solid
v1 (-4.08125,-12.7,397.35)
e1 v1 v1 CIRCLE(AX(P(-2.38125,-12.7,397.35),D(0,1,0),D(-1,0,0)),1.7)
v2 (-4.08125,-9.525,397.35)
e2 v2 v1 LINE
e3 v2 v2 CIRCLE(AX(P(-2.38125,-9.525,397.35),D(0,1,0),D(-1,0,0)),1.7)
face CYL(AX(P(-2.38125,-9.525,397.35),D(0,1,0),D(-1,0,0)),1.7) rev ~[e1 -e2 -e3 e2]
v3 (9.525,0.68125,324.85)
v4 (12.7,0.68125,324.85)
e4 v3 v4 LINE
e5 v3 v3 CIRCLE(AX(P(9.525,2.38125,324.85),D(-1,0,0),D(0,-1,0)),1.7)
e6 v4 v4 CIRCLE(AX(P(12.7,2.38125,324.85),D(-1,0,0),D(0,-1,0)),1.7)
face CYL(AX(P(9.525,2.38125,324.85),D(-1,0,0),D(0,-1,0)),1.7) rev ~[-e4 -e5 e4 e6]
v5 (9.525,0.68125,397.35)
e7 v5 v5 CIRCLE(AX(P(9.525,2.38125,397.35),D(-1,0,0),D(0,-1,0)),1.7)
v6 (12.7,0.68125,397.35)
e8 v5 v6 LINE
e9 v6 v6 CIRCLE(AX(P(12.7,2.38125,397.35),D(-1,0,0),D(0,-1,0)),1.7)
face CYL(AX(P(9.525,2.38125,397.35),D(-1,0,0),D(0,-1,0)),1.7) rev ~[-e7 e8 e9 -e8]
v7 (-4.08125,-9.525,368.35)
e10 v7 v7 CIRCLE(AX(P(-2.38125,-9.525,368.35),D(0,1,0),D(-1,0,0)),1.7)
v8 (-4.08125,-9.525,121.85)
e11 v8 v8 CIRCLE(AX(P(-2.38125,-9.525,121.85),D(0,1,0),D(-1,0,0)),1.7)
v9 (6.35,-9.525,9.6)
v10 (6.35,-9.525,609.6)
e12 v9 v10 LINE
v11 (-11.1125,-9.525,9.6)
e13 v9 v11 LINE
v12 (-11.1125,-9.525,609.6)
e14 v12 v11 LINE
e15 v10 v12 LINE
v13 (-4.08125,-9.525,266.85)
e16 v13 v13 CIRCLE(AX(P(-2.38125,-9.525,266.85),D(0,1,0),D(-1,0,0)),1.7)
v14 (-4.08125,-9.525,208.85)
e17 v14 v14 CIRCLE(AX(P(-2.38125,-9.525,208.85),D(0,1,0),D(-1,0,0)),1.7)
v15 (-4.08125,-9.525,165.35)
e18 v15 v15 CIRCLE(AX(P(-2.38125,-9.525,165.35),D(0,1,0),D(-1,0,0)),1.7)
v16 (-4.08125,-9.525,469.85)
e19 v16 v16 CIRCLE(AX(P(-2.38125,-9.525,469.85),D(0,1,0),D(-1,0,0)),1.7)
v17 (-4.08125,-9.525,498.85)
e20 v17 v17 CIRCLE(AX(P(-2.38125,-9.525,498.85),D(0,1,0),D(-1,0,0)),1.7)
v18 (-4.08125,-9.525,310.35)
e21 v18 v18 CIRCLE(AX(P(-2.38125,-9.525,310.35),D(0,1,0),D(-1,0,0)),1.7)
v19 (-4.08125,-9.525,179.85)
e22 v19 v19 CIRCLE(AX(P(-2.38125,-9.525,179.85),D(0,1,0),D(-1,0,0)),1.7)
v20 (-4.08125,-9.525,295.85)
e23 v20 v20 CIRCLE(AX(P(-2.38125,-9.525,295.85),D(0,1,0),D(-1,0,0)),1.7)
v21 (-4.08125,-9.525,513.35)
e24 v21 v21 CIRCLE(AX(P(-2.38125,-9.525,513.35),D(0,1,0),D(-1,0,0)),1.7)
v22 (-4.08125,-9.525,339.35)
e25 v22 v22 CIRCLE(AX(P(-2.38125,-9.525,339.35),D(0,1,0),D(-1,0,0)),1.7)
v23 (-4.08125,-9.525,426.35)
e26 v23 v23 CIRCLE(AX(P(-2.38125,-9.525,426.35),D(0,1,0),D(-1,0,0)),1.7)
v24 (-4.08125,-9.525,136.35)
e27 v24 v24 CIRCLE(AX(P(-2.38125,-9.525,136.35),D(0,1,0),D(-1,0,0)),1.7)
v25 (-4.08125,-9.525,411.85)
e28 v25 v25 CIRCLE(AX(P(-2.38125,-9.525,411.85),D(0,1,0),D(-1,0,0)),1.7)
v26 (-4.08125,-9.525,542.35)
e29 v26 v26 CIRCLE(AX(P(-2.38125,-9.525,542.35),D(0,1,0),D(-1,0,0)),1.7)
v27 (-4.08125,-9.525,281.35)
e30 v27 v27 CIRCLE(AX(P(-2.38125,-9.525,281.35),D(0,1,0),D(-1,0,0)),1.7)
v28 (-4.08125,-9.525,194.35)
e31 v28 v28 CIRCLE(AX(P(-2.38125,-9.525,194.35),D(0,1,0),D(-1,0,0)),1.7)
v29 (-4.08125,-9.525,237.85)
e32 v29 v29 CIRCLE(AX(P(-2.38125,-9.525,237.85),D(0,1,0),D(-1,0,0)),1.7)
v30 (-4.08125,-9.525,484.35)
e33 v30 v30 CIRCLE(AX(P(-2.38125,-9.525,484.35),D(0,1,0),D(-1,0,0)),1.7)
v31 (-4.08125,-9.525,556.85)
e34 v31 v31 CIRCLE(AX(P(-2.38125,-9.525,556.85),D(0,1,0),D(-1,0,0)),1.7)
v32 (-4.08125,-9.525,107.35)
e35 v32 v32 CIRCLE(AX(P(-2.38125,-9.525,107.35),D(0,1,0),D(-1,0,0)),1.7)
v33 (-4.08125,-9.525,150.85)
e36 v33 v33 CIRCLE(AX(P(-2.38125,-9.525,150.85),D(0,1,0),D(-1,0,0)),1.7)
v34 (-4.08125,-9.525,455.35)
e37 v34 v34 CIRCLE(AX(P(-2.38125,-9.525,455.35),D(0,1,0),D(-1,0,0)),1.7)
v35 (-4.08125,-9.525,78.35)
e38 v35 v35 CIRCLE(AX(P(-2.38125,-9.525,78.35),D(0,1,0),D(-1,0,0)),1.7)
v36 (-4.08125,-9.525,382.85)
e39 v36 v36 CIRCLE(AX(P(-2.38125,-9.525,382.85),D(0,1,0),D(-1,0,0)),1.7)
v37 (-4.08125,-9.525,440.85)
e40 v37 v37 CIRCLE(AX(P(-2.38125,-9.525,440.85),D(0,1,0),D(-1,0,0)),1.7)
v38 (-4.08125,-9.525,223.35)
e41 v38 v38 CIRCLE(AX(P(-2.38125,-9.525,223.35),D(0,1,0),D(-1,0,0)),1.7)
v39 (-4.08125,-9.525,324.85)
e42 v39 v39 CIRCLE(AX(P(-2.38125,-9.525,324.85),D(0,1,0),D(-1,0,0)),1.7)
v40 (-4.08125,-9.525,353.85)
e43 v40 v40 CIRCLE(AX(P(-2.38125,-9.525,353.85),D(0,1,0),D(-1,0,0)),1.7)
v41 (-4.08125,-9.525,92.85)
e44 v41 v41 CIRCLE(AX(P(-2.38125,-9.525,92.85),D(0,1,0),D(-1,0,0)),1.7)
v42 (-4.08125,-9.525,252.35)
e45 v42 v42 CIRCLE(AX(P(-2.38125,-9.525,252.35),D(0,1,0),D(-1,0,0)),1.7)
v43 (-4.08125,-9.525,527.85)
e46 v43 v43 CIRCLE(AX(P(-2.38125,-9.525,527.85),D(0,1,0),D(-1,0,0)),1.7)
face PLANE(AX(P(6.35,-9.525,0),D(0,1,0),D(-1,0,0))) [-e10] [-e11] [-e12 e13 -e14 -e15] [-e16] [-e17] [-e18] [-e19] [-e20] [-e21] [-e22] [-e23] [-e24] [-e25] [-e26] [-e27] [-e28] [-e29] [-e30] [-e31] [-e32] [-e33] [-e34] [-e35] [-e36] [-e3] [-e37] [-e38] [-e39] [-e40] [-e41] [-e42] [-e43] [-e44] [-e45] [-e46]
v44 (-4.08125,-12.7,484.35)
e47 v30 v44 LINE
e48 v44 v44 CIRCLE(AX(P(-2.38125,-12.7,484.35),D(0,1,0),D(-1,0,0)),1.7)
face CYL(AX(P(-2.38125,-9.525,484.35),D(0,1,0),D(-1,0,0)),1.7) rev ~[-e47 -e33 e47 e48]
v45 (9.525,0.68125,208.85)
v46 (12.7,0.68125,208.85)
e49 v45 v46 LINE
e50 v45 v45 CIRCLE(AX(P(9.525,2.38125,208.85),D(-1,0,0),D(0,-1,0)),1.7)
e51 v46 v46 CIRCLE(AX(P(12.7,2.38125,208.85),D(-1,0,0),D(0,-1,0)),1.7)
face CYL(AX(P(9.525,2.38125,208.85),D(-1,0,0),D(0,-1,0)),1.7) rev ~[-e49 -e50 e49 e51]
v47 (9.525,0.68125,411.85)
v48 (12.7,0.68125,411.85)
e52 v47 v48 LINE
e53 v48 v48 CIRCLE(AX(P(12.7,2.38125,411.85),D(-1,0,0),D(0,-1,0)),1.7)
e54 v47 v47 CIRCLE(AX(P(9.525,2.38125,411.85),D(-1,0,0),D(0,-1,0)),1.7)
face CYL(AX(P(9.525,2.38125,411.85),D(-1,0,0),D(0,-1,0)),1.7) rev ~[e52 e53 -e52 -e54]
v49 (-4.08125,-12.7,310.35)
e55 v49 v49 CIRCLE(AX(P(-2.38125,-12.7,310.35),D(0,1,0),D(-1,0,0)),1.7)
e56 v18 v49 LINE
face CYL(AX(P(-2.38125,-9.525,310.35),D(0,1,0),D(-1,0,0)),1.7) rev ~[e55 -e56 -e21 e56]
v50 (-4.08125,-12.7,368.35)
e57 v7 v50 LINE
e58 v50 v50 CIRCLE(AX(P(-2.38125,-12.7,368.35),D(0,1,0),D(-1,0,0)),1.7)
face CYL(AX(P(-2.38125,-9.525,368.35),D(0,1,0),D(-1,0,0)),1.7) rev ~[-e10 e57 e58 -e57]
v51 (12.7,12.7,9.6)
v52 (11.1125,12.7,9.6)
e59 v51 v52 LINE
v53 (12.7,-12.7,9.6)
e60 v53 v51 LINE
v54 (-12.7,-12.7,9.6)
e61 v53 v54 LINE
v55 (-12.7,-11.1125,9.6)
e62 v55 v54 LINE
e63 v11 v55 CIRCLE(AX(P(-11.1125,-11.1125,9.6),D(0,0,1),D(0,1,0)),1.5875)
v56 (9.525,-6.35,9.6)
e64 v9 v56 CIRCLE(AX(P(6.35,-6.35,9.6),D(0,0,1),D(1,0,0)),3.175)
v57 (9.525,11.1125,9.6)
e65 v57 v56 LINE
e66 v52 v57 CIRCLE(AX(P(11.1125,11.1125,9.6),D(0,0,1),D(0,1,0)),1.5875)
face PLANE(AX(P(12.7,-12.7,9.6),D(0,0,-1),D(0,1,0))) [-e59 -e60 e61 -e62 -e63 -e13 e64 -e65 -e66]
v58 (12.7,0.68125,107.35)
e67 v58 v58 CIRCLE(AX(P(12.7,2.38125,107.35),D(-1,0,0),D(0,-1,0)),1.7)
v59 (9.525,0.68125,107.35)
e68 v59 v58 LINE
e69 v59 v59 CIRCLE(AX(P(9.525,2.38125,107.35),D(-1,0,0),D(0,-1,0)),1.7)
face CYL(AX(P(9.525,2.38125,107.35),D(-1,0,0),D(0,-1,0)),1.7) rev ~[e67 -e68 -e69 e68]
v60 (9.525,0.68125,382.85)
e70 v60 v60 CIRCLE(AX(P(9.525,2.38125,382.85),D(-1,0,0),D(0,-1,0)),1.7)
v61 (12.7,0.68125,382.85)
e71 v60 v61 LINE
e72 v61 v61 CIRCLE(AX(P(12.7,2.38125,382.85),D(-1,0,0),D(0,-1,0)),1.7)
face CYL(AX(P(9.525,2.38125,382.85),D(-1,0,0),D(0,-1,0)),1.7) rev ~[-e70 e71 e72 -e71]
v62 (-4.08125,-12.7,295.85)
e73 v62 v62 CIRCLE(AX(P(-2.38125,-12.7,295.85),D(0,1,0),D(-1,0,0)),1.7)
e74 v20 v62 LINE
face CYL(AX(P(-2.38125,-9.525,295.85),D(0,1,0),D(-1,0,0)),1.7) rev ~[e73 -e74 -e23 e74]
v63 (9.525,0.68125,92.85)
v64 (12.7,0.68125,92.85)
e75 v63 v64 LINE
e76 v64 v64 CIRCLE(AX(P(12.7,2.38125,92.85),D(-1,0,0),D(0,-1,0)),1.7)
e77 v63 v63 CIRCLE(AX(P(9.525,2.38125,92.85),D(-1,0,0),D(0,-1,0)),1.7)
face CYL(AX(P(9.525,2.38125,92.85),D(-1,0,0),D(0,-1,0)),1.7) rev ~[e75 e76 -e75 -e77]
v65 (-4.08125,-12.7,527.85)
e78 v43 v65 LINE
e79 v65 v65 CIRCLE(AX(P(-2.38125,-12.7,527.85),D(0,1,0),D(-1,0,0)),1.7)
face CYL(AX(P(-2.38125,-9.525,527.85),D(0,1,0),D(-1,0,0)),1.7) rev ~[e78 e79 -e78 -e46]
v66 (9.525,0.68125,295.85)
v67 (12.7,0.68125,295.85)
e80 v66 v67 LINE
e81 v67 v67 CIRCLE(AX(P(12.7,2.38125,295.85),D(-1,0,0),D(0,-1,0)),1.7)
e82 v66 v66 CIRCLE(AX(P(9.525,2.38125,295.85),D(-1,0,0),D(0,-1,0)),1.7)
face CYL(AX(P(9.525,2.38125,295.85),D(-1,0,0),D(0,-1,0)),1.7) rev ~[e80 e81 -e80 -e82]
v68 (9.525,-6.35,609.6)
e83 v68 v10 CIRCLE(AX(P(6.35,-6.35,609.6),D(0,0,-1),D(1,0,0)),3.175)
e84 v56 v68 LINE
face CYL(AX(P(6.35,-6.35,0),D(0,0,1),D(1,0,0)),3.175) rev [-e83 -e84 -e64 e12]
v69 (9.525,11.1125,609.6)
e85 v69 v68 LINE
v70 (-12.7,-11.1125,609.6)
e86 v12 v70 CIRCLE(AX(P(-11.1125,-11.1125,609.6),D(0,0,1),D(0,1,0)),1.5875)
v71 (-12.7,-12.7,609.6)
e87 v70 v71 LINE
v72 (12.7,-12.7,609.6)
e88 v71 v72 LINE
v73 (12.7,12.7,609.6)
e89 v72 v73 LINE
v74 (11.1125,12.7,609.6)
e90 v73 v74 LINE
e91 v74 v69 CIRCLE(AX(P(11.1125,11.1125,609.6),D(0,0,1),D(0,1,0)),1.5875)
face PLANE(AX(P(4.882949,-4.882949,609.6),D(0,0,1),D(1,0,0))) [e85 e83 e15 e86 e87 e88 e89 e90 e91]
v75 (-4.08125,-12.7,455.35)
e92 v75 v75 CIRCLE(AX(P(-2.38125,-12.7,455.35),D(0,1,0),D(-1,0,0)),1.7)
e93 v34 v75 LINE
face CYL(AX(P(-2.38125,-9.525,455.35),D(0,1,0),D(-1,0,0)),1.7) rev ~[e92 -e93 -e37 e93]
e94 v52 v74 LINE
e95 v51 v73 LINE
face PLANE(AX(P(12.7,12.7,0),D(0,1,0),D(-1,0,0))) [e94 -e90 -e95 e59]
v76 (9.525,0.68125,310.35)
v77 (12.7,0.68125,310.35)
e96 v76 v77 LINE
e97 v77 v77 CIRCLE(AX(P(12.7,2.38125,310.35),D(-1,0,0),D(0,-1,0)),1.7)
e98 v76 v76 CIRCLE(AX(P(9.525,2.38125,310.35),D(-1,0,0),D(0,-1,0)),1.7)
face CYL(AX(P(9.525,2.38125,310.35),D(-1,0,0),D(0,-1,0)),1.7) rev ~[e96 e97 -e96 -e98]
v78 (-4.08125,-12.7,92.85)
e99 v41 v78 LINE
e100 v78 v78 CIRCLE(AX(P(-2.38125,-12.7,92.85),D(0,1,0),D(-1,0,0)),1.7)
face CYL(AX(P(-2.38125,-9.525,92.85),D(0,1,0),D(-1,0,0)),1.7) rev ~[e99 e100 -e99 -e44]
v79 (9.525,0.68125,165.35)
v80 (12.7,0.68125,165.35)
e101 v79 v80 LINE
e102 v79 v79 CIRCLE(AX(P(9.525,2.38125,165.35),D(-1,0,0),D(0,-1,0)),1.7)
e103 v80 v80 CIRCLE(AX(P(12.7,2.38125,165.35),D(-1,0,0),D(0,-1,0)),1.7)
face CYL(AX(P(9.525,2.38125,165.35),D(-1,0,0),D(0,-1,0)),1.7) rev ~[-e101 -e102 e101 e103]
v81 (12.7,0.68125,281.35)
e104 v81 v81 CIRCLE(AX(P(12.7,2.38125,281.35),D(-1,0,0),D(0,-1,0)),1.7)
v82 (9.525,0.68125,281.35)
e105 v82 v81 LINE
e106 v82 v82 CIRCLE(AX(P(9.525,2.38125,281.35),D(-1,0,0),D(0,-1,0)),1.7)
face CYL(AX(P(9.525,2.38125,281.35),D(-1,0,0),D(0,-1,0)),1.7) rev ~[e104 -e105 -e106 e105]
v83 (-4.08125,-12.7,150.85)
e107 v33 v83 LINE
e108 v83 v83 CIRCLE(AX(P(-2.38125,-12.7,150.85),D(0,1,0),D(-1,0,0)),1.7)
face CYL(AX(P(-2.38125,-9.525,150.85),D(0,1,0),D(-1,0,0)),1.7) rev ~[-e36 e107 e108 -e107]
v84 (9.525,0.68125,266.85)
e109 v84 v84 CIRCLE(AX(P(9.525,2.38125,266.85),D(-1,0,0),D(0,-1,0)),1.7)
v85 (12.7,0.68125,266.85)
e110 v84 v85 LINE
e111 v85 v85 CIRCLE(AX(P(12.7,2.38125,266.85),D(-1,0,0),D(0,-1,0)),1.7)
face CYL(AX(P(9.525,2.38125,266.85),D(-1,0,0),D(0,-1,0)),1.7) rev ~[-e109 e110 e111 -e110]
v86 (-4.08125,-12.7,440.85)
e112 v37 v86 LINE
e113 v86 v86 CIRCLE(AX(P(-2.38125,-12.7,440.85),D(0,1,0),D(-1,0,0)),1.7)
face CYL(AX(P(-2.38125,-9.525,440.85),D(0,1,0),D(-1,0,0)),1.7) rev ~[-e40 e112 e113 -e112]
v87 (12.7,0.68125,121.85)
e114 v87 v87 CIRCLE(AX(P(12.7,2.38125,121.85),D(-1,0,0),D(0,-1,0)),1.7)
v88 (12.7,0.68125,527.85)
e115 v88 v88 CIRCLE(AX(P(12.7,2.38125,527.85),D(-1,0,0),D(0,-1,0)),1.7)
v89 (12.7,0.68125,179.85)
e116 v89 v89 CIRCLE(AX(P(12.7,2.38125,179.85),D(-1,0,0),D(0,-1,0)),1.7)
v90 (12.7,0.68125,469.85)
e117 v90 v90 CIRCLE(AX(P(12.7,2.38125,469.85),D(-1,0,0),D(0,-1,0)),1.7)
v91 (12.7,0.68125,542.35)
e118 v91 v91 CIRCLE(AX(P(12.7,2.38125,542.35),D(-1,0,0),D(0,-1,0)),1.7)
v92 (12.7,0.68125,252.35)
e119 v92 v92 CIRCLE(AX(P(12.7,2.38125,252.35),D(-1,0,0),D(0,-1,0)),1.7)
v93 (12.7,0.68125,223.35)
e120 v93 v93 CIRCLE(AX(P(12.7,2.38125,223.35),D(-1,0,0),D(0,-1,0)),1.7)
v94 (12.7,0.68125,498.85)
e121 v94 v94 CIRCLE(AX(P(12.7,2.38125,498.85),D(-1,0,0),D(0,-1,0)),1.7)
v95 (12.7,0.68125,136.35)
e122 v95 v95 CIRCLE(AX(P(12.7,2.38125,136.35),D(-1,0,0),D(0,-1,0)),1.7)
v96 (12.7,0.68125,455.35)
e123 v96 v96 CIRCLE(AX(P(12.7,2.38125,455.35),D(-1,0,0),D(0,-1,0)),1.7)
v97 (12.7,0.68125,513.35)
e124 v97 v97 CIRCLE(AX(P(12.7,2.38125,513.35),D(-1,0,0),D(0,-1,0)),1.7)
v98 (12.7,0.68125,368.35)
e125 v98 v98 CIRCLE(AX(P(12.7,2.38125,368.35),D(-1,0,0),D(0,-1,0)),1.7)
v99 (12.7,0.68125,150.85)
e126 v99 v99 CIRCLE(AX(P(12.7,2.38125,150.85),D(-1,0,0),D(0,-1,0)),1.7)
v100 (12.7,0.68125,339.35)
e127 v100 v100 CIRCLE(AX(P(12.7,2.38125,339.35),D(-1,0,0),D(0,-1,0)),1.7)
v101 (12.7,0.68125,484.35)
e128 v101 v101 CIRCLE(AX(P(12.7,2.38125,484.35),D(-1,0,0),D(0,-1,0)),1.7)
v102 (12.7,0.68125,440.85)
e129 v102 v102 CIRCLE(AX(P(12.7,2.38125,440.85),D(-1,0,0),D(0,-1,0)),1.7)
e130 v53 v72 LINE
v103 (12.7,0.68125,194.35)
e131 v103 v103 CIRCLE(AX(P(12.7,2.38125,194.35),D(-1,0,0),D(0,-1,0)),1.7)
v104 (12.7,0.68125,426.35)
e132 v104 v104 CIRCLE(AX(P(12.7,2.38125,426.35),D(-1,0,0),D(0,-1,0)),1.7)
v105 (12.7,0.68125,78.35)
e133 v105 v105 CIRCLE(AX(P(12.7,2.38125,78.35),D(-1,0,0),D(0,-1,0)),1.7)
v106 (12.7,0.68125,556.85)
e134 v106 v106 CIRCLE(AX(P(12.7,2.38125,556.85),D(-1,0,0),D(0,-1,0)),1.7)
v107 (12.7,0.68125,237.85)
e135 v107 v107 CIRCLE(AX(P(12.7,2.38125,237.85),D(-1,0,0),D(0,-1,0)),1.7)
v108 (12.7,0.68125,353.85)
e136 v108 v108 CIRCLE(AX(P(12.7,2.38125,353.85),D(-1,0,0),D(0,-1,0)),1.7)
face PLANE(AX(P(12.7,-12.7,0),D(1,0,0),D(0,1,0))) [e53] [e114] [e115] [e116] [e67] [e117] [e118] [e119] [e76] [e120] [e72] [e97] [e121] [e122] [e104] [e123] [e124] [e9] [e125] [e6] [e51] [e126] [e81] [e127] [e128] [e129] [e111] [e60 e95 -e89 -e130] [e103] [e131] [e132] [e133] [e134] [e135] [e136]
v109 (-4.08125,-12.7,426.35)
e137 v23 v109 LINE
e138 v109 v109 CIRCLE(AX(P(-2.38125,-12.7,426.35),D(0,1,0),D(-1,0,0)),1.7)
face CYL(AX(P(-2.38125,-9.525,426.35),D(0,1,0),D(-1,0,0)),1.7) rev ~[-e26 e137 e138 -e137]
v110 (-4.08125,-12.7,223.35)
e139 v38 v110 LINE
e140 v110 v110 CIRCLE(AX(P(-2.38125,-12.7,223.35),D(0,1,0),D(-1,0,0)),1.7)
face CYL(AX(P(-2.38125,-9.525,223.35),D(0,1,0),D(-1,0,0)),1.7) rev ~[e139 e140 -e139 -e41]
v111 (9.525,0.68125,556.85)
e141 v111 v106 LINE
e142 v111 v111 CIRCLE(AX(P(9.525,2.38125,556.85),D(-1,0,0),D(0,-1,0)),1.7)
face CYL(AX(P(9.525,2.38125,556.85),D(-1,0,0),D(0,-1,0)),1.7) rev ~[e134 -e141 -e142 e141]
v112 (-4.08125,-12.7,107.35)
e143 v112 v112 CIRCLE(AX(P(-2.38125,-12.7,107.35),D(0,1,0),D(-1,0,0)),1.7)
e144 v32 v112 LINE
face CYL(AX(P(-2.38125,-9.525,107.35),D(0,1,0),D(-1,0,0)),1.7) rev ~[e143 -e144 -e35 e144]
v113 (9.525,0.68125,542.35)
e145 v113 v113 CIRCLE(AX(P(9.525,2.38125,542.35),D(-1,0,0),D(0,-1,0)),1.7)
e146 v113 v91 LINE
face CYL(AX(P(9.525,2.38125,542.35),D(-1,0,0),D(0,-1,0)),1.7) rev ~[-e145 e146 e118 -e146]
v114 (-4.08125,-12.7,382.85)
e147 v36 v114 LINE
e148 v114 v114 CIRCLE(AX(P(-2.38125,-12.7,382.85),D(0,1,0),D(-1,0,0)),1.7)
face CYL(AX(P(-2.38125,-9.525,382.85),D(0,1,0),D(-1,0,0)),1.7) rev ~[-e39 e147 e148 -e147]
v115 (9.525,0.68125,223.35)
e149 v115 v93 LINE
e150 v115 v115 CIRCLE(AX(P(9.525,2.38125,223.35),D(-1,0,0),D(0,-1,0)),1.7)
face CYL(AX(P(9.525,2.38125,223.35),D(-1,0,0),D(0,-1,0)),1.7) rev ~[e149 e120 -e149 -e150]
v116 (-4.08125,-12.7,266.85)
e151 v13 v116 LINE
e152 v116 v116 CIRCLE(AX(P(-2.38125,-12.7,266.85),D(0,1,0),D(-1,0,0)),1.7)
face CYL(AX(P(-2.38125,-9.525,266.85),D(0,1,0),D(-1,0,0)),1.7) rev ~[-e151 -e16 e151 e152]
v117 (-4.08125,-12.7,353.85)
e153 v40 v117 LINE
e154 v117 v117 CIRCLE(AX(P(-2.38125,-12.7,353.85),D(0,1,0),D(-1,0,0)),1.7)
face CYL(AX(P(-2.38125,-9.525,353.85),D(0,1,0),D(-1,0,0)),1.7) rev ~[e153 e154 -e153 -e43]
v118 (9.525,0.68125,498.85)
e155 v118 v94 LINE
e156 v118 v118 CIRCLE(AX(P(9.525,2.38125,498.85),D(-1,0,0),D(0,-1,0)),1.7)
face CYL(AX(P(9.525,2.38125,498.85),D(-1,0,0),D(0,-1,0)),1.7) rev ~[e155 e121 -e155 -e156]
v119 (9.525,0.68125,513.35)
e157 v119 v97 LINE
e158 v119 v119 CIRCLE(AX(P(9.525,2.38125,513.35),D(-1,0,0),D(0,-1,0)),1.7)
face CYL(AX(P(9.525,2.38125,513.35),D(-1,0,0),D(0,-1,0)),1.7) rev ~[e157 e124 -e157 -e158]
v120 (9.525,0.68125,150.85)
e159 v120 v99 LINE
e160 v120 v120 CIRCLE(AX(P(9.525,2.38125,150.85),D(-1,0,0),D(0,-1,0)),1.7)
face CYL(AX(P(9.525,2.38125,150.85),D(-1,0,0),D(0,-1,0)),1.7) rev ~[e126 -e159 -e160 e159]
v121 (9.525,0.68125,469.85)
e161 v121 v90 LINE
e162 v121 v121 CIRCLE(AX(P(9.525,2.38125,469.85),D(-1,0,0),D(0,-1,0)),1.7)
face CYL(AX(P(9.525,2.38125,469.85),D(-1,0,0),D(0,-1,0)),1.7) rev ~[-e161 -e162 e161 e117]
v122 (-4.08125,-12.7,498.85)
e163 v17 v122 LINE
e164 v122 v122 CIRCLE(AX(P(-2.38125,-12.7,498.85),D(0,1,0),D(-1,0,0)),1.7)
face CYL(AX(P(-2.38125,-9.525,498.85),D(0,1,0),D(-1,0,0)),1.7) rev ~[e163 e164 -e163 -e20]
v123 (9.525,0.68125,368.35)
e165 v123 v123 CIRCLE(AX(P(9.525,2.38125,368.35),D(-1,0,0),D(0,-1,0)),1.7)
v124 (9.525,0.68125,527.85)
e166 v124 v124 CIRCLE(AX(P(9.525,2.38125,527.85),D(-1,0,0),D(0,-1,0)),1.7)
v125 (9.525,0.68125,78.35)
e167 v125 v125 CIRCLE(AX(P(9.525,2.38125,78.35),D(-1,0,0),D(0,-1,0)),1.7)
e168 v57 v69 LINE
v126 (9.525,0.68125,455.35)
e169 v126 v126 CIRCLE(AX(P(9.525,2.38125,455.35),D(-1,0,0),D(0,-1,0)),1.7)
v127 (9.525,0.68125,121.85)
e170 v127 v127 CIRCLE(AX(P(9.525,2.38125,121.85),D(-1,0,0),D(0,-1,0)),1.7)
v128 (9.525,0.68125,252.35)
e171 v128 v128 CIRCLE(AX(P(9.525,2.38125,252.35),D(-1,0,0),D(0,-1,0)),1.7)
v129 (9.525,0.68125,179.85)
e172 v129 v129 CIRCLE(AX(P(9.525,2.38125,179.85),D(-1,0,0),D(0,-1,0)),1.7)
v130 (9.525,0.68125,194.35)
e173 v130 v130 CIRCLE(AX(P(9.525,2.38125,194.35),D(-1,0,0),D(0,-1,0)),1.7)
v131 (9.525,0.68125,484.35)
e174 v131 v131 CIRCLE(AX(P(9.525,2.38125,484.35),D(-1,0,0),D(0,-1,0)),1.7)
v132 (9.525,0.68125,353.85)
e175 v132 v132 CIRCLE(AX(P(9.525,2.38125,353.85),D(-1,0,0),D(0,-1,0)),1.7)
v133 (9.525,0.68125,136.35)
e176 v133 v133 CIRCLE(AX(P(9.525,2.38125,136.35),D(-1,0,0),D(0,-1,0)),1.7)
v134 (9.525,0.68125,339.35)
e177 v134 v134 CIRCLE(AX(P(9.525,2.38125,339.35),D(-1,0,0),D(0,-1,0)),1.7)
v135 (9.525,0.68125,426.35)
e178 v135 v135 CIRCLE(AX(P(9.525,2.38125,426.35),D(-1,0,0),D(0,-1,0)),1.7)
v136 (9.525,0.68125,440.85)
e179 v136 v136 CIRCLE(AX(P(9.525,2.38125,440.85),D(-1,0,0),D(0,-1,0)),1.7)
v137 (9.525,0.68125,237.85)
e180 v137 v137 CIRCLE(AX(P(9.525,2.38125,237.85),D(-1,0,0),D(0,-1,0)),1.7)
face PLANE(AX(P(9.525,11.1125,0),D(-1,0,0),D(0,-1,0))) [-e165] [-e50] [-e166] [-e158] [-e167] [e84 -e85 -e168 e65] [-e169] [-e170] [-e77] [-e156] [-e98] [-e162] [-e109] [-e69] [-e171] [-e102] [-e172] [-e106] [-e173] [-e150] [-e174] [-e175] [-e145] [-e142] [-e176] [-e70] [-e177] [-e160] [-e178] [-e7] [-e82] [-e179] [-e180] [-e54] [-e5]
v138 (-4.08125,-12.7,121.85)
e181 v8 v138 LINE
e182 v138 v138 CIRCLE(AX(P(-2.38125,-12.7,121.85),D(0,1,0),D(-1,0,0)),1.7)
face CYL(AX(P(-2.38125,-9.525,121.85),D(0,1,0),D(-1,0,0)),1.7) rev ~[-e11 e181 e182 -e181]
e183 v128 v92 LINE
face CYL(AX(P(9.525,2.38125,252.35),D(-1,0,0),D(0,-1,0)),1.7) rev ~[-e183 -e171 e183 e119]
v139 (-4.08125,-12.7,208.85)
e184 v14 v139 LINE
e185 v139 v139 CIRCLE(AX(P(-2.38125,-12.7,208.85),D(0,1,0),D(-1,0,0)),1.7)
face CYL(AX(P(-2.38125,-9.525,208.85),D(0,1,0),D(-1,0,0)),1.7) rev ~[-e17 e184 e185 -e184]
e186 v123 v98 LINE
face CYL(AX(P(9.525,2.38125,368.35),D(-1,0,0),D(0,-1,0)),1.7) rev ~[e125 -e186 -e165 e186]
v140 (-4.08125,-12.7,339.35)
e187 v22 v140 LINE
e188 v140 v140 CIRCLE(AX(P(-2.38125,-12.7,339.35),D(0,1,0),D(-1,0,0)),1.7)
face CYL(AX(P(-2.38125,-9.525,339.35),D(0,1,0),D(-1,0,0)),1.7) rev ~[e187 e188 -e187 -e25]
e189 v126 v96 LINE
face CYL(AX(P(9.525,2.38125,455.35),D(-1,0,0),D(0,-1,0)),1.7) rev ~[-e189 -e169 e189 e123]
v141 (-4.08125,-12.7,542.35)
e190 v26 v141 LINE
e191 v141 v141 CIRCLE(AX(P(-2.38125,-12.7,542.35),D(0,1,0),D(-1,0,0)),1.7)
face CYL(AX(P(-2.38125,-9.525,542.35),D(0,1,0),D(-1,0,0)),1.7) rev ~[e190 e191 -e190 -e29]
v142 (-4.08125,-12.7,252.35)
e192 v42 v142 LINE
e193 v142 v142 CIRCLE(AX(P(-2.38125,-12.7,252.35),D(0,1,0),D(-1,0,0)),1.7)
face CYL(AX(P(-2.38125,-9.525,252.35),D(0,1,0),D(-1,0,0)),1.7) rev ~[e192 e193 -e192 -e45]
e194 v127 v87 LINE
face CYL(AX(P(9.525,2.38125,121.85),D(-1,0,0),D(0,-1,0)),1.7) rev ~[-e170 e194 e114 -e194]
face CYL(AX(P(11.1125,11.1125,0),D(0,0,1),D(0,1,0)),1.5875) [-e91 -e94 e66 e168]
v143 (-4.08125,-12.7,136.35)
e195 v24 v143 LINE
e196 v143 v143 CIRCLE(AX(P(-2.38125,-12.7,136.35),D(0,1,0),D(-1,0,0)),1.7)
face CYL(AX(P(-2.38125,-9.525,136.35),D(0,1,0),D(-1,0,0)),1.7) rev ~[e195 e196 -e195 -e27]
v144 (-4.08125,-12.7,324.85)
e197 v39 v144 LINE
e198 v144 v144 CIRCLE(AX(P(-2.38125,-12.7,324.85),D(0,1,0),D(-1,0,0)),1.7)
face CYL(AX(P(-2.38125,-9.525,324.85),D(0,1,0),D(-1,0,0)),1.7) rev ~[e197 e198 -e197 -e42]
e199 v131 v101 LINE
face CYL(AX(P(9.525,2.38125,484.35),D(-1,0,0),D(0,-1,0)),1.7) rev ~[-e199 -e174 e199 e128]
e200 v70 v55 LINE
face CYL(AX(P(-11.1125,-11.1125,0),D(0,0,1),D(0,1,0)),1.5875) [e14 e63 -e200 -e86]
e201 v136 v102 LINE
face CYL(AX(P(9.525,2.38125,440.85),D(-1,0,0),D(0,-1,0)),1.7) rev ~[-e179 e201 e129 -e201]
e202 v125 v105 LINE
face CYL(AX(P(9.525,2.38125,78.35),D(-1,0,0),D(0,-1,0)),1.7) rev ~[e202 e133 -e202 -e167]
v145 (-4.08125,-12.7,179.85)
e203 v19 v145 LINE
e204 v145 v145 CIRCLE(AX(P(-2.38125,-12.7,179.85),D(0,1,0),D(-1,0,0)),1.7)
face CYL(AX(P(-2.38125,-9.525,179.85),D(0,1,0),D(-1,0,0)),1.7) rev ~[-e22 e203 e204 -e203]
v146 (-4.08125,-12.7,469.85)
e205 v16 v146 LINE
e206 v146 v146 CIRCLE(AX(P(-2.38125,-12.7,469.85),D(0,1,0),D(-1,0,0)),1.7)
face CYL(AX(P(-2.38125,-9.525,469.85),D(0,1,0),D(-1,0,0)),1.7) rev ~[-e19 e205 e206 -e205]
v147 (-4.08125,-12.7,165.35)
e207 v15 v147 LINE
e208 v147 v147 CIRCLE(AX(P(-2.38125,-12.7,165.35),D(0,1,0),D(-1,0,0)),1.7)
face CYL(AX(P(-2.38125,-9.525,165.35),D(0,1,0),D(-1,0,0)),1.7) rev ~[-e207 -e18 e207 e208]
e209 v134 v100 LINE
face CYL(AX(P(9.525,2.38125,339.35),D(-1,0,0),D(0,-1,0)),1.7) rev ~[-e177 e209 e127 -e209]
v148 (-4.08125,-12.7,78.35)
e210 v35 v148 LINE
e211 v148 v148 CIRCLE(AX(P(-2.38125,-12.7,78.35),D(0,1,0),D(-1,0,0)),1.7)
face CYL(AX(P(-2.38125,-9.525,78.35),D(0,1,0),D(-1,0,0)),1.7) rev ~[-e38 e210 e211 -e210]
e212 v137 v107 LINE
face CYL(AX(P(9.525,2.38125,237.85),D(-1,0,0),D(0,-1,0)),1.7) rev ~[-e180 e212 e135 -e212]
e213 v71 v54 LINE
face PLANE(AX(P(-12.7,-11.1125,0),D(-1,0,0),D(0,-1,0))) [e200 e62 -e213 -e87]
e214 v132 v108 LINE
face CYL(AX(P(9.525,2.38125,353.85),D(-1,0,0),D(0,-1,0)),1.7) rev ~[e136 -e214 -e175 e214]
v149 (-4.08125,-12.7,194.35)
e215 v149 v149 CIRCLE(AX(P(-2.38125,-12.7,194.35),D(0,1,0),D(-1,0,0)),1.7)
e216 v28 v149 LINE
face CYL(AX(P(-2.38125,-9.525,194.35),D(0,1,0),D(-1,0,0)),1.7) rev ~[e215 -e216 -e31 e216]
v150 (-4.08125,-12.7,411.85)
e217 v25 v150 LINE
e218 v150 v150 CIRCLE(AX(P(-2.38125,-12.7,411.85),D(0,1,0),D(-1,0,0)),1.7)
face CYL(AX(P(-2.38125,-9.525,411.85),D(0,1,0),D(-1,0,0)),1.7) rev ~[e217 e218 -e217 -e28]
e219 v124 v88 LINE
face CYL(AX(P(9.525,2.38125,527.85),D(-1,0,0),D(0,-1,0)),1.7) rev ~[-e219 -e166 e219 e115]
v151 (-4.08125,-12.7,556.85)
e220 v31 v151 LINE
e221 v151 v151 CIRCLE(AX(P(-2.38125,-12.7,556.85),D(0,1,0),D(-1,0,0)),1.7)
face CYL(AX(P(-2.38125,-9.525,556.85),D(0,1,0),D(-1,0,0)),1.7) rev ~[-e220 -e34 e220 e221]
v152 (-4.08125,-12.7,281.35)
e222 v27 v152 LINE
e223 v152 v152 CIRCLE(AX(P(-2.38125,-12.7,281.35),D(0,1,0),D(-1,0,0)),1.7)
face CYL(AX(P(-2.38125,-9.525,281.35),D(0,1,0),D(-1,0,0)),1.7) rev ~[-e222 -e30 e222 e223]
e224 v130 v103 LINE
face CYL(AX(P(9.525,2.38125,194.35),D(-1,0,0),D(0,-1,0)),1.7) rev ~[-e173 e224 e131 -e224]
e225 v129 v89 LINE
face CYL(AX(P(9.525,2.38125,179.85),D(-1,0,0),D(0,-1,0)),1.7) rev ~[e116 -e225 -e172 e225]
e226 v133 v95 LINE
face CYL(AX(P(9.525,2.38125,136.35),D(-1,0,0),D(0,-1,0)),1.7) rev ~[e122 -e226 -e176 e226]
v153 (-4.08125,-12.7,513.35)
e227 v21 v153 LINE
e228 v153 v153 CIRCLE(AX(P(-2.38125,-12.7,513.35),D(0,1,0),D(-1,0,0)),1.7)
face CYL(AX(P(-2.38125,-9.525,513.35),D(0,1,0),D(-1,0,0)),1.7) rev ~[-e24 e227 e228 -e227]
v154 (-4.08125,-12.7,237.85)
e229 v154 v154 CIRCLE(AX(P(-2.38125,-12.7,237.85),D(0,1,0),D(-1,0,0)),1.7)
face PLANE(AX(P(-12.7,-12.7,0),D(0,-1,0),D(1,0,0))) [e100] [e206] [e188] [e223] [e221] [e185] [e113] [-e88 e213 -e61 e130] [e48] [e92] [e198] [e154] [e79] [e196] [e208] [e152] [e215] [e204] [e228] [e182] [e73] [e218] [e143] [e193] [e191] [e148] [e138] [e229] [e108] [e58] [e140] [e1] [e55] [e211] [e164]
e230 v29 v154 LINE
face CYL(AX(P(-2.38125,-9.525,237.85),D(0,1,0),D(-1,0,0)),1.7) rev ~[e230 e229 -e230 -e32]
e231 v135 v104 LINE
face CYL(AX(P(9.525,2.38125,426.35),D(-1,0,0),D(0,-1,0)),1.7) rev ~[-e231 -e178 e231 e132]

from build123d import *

# Parameters (mm, degrees)
BOSS_EXTRUDE1_DEPTH = 609.6
SKETCH3_W           = 619.2
SKETCH3_H           = 25.4
CUT_EXTRUDE2_DEPTH  = 30.48
SKETCH5_R           = 1.7
CUT_EXTRUDE3_DEPTH  = 611.137198198
SKETCH7_R           = 1.7
CUT_EXTRUDE4_DEPTH  = 611.137198198


with BuildPart() as part:
    # Sketch2 → Boss-Extrude1 (new, symmetric)
    with BuildSketch(Plane.XY):
        with BuildLine():
            Line((-12.7, -12.7), (12.7, -12.7))
            Line((12.7, -12.7), (12.7, 12.7))
            Line((12.7, 12.7), (11.1125, 12.7))
            ThreePointArc((11.1125, 12.7), (9.989967985, 12.235032015), (9.525, 11.1125))
            Line((9.525, 11.1125), (9.525, -6.35))
            ThreePointArc((9.525, -6.35), (8.59506403, -8.59506403), (6.35, -9.525))
            Line((6.35, -9.525), (-11.1125, -9.525))
            ThreePointArc((-11.1125, -9.525), (-12.235032015, -9.989967985), (-12.7, -11.1125))
            Line((-12.7, -11.1125), (-12.7, -12.7))
        make_face()
    extrude(amount=BOSS_EXTRUDE1_DEPTH, both=True)

    # Sketch3 → Cut-Extrude2 (cut)
    with BuildSketch(Plane(origin=(12.7, 0, 0), x_dir=(0, 0, -1), z_dir=(1, 0, 0))):
        with Locations((300, 0)):
            Rectangle(SKETCH3_W, SKETCH3_H)
    extrude(amount=-CUT_EXTRUDE2_DEPTH, mode=Mode.SUBTRACT)

    # Sketch5 → Cut-Extrude3 (cut, through all)
    with BuildSketch(Plane.ZY.offset(-9.525)):
        with Locations(Location((78.35, 2.38125, 0), (0, 0, 270))):
            Circle(SKETCH5_R)
        with Locations(Location((92.85, 2.38125, 0), (0, 0, 270))):
            Circle(SKETCH5_R)
        with Locations(Location((107.35, 2.38125, 0), (0, 0, 270))):
            Circle(SKETCH5_R)
        with Locations(Location((121.85, 2.38125, 0), (0, 0, 270))):
            Circle(SKETCH5_R)
        with Locations(Location((136.35, 2.38125, 0), (0, 0, 270))):
            Circle(SKETCH5_R)
        with Locations(Location((150.85, 2.38125, 0), (0, 0, 270))):
            Circle(SKETCH5_R)
        with Locations(Location((165.35, 2.38125, 0), (0, 0, 270))):
            Circle(SKETCH5_R)
        with Locations(Location((179.85, 2.38125, 0), (0, 0, 270))):
            Circle(SKETCH5_R)
        with Locations(Location((194.35, 2.38125, 0), (0, 0, 270))):
            Circle(SKETCH5_R)
        with Locations(Location((208.85, 2.38125, 0), (0, 0, 270))):
            Circle(SKETCH5_R)
        with Locations(Location((223.35, 2.38125, 0), (0, 0, 270))):
            Circle(SKETCH5_R)
        with Locations(Location((237.85, 2.38125, 0), (0, 0, 270))):
            Circle(SKETCH5_R)
        with Locations(Location((252.35, 2.38125, 0), (0, 0, 270))):
            Circle(SKETCH5_R)
        with Locations(Location((266.85, 2.38125, 0), (0, 0, 270))):
            Circle(SKETCH5_R)
        with Locations(Location((281.35, 2.38125, 0), (0, 0, 270))):
            Circle(SKETCH5_R)
        with Locations(Location((295.85, 2.38125, 0), (0, 0, 270))):
            Circle(SKETCH5_R)
        with Locations(Location((310.35, 2.38125, 0), (0, 0, 270))):
            Circle(SKETCH5_R)
        with Locations(Location((324.85, 2.38125, 0), (0, 0, 270))):
            Circle(SKETCH5_R)
        with Locations(Location((339.35, 2.38125, 0), (0, 0, 270))):
            Circle(SKETCH5_R)
        with Locations(Location((353.85, 2.38125, 0), (0, 0, 270))):
            Circle(SKETCH5_R)
        with Locations(Location((368.35, 2.38125, 0), (0, 0, 270))):
            Circle(SKETCH5_R)
        with Locations(Location((382.85, 2.38125, 0), (0, 0, 270))):
            Circle(SKETCH5_R)
        with Locations(Location((397.35, 2.38125, 0), (0, 0, 270))):
            Circle(SKETCH5_R)
        with Locations(Location((411.85, 2.38125, 0), (0, 0, 270))):
            Circle(SKETCH5_R)
        with Locations(Location((426.35, 2.38125, 0), (0, 0, 270))):
            Circle(SKETCH5_R)
        with Locations(Location((440.85, 2.38125, 0), (0, 0, 270))):
            Circle(SKETCH5_R)
        with Locations(Location((455.35, 2.38125, 0), (0, 0, 270))):
            Circle(SKETCH5_R)
        with Locations(Location((469.85, 2.38125, 0), (0, 0, 270))):
            Circle(SKETCH5_R)
        with Locations(Location((484.35, 2.38125, 0), (0, 0, 270))):
            Circle(SKETCH5_R)
        with Locations(Location((498.85, 2.38125, 0), (0, 0, 270))):
            Circle(SKETCH5_R)
        with Locations(Location((513.35, 2.38125, 0), (0, 0, 270))):
            Circle(SKETCH5_R)
        with Locations(Location((527.85, 2.38125, 0), (0, 0, 270))):
            Circle(SKETCH5_R)
        with Locations(Location((542.35, 2.38125, 0), (0, 0, 270))):
            Circle(SKETCH5_R)
        with Locations(Location((556.85, 2.38125, 0), (0, 0, 270))):
            Circle(SKETCH5_R)
    extrude(amount=-CUT_EXTRUDE3_DEPTH, mode=Mode.SUBTRACT)

    # Sketch7 → Cut-Extrude4 (cut, through all)
    with BuildSketch(Plane(origin=(0, -9.525, 0), x_dir=(1, 0, 0), z_dir=(0, 1, 0))):
        with Locations(Location((-2.38125, -78.35, 0), (0, 0, 180))):
            Circle(SKETCH7_R)
        with Locations(Location((-2.38125, -92.85, 0), (0, 0, 180))):
            Circle(SKETCH7_R)
        with Locations(Location((-2.38125, -107.35, 0), (0, 0, 180))):
            Circle(SKETCH7_R)
        with Locations(Location((-2.38125, -121.85, 0), (0, 0, 180))):
            Circle(SKETCH7_R)
        with Locations(Location((-2.38125, -136.35, 0), (0, 0, 180))):
            Circle(SKETCH7_R)
        with Locations(Location((-2.38125, -150.85, 0), (0, 0, 180))):
            Circle(SKETCH7_R)
        with Locations(Location((-2.38125, -165.35, 0), (0, 0, 180))):
            Circle(SKETCH7_R)
        with Locations(Location((-2.38125, -179.85, 0), (0, 0, 180))):
            Circle(SKETCH7_R)
        with Locations(Location((-2.38125, -194.35, 0), (0, 0, 180))):
            Circle(SKETCH7_R)
        with Locations(Location((-2.38125, -208.85, 0), (0, 0, 180))):
            Circle(SKETCH7_R)
        with Locations(Location((-2.38125, -223.35, 0), (0, 0, 180))):
            Circle(SKETCH7_R)
        with Locations(Location((-2.38125, -237.85, 0), (0, 0, 180))):
            Circle(SKETCH7_R)
        with Locations(Location((-2.38125, -252.35, 0), (0, 0, 180))):
            Circle(SKETCH7_R)
        with Locations(Location((-2.38125, -266.85, 0), (0, 0, 180))):
            Circle(SKETCH7_R)
        with Locations(Location((-2.38125, -281.35, 0), (0, 0, 180))):
            Circle(SKETCH7_R)
        with Locations(Location((-2.38125, -295.85, 0), (0, 0, 180))):
            Circle(SKETCH7_R)
        with Locations(Location((-2.38125, -310.35, 0), (0, 0, 180))):
            Circle(SKETCH7_R)
        with Locations(Location((-2.38125, -324.85, 0), (0, 0, 180))):
            Circle(SKETCH7_R)
        with Locations(Location((-2.38125, -339.35, 0), (0, 0, 180))):
            Circle(SKETCH7_R)
        with Locations(Location((-2.38125, -353.85, 0), (0, 0, 180))):
            Circle(SKETCH7_R)
        with Locations(Location((-2.38125, -368.35, 0), (0, 0, 180))):
            Circle(SKETCH7_R)
        with Locations(Location((-2.38125, -382.85, 0), (0, 0, 180))):
            Circle(SKETCH7_R)
        with Locations(Location((-2.38125, -397.35, 0), (0, 0, 180))):
            Circle(SKETCH7_R)
        with Locations(Location((-2.38125, -411.85, 0), (0, 0, 180))):
            Circle(SKETCH7_R)
        with Locations(Location((-2.38125, -426.35, 0), (0, 0, 180))):
            Circle(SKETCH7_R)
        with Locations(Location((-2.38125, -440.85, 0), (0, 0, 180))):
            Circle(SKETCH7_R)
        with Locations(Location((-2.38125, -455.35, 0), (0, 0, 180))):
            Circle(SKETCH7_R)
        with Locations(Location((-2.38125, -469.85, 0), (0, 0, 180))):
            Circle(SKETCH7_R)
        with Locations(Location((-2.38125, -484.35, 0), (0, 0, 180))):
            Circle(SKETCH7_R)
        with Locations(Location((-2.38125, -498.85, 0), (0, 0, 180))):
            Circle(SKETCH7_R)
        with Locations(Location((-2.38125, -513.35, 0), (0, 0, 180))):
            Circle(SKETCH7_R)
        with Locations(Location((-2.38125, -527.85, 0), (0, 0, 180))):
            Circle(SKETCH7_R)
        with Locations(Location((-2.38125, -542.35, 0), (0, 0, 180))):
            Circle(SKETCH7_R)
        with Locations(Location((-2.38125, -556.85, 0), (0, 0, 180))):
            Circle(SKETCH7_R)
    extrude(amount=-CUT_EXTRUDE4_DEPTH, mode=Mode.SUBTRACT)


solid = part.part
